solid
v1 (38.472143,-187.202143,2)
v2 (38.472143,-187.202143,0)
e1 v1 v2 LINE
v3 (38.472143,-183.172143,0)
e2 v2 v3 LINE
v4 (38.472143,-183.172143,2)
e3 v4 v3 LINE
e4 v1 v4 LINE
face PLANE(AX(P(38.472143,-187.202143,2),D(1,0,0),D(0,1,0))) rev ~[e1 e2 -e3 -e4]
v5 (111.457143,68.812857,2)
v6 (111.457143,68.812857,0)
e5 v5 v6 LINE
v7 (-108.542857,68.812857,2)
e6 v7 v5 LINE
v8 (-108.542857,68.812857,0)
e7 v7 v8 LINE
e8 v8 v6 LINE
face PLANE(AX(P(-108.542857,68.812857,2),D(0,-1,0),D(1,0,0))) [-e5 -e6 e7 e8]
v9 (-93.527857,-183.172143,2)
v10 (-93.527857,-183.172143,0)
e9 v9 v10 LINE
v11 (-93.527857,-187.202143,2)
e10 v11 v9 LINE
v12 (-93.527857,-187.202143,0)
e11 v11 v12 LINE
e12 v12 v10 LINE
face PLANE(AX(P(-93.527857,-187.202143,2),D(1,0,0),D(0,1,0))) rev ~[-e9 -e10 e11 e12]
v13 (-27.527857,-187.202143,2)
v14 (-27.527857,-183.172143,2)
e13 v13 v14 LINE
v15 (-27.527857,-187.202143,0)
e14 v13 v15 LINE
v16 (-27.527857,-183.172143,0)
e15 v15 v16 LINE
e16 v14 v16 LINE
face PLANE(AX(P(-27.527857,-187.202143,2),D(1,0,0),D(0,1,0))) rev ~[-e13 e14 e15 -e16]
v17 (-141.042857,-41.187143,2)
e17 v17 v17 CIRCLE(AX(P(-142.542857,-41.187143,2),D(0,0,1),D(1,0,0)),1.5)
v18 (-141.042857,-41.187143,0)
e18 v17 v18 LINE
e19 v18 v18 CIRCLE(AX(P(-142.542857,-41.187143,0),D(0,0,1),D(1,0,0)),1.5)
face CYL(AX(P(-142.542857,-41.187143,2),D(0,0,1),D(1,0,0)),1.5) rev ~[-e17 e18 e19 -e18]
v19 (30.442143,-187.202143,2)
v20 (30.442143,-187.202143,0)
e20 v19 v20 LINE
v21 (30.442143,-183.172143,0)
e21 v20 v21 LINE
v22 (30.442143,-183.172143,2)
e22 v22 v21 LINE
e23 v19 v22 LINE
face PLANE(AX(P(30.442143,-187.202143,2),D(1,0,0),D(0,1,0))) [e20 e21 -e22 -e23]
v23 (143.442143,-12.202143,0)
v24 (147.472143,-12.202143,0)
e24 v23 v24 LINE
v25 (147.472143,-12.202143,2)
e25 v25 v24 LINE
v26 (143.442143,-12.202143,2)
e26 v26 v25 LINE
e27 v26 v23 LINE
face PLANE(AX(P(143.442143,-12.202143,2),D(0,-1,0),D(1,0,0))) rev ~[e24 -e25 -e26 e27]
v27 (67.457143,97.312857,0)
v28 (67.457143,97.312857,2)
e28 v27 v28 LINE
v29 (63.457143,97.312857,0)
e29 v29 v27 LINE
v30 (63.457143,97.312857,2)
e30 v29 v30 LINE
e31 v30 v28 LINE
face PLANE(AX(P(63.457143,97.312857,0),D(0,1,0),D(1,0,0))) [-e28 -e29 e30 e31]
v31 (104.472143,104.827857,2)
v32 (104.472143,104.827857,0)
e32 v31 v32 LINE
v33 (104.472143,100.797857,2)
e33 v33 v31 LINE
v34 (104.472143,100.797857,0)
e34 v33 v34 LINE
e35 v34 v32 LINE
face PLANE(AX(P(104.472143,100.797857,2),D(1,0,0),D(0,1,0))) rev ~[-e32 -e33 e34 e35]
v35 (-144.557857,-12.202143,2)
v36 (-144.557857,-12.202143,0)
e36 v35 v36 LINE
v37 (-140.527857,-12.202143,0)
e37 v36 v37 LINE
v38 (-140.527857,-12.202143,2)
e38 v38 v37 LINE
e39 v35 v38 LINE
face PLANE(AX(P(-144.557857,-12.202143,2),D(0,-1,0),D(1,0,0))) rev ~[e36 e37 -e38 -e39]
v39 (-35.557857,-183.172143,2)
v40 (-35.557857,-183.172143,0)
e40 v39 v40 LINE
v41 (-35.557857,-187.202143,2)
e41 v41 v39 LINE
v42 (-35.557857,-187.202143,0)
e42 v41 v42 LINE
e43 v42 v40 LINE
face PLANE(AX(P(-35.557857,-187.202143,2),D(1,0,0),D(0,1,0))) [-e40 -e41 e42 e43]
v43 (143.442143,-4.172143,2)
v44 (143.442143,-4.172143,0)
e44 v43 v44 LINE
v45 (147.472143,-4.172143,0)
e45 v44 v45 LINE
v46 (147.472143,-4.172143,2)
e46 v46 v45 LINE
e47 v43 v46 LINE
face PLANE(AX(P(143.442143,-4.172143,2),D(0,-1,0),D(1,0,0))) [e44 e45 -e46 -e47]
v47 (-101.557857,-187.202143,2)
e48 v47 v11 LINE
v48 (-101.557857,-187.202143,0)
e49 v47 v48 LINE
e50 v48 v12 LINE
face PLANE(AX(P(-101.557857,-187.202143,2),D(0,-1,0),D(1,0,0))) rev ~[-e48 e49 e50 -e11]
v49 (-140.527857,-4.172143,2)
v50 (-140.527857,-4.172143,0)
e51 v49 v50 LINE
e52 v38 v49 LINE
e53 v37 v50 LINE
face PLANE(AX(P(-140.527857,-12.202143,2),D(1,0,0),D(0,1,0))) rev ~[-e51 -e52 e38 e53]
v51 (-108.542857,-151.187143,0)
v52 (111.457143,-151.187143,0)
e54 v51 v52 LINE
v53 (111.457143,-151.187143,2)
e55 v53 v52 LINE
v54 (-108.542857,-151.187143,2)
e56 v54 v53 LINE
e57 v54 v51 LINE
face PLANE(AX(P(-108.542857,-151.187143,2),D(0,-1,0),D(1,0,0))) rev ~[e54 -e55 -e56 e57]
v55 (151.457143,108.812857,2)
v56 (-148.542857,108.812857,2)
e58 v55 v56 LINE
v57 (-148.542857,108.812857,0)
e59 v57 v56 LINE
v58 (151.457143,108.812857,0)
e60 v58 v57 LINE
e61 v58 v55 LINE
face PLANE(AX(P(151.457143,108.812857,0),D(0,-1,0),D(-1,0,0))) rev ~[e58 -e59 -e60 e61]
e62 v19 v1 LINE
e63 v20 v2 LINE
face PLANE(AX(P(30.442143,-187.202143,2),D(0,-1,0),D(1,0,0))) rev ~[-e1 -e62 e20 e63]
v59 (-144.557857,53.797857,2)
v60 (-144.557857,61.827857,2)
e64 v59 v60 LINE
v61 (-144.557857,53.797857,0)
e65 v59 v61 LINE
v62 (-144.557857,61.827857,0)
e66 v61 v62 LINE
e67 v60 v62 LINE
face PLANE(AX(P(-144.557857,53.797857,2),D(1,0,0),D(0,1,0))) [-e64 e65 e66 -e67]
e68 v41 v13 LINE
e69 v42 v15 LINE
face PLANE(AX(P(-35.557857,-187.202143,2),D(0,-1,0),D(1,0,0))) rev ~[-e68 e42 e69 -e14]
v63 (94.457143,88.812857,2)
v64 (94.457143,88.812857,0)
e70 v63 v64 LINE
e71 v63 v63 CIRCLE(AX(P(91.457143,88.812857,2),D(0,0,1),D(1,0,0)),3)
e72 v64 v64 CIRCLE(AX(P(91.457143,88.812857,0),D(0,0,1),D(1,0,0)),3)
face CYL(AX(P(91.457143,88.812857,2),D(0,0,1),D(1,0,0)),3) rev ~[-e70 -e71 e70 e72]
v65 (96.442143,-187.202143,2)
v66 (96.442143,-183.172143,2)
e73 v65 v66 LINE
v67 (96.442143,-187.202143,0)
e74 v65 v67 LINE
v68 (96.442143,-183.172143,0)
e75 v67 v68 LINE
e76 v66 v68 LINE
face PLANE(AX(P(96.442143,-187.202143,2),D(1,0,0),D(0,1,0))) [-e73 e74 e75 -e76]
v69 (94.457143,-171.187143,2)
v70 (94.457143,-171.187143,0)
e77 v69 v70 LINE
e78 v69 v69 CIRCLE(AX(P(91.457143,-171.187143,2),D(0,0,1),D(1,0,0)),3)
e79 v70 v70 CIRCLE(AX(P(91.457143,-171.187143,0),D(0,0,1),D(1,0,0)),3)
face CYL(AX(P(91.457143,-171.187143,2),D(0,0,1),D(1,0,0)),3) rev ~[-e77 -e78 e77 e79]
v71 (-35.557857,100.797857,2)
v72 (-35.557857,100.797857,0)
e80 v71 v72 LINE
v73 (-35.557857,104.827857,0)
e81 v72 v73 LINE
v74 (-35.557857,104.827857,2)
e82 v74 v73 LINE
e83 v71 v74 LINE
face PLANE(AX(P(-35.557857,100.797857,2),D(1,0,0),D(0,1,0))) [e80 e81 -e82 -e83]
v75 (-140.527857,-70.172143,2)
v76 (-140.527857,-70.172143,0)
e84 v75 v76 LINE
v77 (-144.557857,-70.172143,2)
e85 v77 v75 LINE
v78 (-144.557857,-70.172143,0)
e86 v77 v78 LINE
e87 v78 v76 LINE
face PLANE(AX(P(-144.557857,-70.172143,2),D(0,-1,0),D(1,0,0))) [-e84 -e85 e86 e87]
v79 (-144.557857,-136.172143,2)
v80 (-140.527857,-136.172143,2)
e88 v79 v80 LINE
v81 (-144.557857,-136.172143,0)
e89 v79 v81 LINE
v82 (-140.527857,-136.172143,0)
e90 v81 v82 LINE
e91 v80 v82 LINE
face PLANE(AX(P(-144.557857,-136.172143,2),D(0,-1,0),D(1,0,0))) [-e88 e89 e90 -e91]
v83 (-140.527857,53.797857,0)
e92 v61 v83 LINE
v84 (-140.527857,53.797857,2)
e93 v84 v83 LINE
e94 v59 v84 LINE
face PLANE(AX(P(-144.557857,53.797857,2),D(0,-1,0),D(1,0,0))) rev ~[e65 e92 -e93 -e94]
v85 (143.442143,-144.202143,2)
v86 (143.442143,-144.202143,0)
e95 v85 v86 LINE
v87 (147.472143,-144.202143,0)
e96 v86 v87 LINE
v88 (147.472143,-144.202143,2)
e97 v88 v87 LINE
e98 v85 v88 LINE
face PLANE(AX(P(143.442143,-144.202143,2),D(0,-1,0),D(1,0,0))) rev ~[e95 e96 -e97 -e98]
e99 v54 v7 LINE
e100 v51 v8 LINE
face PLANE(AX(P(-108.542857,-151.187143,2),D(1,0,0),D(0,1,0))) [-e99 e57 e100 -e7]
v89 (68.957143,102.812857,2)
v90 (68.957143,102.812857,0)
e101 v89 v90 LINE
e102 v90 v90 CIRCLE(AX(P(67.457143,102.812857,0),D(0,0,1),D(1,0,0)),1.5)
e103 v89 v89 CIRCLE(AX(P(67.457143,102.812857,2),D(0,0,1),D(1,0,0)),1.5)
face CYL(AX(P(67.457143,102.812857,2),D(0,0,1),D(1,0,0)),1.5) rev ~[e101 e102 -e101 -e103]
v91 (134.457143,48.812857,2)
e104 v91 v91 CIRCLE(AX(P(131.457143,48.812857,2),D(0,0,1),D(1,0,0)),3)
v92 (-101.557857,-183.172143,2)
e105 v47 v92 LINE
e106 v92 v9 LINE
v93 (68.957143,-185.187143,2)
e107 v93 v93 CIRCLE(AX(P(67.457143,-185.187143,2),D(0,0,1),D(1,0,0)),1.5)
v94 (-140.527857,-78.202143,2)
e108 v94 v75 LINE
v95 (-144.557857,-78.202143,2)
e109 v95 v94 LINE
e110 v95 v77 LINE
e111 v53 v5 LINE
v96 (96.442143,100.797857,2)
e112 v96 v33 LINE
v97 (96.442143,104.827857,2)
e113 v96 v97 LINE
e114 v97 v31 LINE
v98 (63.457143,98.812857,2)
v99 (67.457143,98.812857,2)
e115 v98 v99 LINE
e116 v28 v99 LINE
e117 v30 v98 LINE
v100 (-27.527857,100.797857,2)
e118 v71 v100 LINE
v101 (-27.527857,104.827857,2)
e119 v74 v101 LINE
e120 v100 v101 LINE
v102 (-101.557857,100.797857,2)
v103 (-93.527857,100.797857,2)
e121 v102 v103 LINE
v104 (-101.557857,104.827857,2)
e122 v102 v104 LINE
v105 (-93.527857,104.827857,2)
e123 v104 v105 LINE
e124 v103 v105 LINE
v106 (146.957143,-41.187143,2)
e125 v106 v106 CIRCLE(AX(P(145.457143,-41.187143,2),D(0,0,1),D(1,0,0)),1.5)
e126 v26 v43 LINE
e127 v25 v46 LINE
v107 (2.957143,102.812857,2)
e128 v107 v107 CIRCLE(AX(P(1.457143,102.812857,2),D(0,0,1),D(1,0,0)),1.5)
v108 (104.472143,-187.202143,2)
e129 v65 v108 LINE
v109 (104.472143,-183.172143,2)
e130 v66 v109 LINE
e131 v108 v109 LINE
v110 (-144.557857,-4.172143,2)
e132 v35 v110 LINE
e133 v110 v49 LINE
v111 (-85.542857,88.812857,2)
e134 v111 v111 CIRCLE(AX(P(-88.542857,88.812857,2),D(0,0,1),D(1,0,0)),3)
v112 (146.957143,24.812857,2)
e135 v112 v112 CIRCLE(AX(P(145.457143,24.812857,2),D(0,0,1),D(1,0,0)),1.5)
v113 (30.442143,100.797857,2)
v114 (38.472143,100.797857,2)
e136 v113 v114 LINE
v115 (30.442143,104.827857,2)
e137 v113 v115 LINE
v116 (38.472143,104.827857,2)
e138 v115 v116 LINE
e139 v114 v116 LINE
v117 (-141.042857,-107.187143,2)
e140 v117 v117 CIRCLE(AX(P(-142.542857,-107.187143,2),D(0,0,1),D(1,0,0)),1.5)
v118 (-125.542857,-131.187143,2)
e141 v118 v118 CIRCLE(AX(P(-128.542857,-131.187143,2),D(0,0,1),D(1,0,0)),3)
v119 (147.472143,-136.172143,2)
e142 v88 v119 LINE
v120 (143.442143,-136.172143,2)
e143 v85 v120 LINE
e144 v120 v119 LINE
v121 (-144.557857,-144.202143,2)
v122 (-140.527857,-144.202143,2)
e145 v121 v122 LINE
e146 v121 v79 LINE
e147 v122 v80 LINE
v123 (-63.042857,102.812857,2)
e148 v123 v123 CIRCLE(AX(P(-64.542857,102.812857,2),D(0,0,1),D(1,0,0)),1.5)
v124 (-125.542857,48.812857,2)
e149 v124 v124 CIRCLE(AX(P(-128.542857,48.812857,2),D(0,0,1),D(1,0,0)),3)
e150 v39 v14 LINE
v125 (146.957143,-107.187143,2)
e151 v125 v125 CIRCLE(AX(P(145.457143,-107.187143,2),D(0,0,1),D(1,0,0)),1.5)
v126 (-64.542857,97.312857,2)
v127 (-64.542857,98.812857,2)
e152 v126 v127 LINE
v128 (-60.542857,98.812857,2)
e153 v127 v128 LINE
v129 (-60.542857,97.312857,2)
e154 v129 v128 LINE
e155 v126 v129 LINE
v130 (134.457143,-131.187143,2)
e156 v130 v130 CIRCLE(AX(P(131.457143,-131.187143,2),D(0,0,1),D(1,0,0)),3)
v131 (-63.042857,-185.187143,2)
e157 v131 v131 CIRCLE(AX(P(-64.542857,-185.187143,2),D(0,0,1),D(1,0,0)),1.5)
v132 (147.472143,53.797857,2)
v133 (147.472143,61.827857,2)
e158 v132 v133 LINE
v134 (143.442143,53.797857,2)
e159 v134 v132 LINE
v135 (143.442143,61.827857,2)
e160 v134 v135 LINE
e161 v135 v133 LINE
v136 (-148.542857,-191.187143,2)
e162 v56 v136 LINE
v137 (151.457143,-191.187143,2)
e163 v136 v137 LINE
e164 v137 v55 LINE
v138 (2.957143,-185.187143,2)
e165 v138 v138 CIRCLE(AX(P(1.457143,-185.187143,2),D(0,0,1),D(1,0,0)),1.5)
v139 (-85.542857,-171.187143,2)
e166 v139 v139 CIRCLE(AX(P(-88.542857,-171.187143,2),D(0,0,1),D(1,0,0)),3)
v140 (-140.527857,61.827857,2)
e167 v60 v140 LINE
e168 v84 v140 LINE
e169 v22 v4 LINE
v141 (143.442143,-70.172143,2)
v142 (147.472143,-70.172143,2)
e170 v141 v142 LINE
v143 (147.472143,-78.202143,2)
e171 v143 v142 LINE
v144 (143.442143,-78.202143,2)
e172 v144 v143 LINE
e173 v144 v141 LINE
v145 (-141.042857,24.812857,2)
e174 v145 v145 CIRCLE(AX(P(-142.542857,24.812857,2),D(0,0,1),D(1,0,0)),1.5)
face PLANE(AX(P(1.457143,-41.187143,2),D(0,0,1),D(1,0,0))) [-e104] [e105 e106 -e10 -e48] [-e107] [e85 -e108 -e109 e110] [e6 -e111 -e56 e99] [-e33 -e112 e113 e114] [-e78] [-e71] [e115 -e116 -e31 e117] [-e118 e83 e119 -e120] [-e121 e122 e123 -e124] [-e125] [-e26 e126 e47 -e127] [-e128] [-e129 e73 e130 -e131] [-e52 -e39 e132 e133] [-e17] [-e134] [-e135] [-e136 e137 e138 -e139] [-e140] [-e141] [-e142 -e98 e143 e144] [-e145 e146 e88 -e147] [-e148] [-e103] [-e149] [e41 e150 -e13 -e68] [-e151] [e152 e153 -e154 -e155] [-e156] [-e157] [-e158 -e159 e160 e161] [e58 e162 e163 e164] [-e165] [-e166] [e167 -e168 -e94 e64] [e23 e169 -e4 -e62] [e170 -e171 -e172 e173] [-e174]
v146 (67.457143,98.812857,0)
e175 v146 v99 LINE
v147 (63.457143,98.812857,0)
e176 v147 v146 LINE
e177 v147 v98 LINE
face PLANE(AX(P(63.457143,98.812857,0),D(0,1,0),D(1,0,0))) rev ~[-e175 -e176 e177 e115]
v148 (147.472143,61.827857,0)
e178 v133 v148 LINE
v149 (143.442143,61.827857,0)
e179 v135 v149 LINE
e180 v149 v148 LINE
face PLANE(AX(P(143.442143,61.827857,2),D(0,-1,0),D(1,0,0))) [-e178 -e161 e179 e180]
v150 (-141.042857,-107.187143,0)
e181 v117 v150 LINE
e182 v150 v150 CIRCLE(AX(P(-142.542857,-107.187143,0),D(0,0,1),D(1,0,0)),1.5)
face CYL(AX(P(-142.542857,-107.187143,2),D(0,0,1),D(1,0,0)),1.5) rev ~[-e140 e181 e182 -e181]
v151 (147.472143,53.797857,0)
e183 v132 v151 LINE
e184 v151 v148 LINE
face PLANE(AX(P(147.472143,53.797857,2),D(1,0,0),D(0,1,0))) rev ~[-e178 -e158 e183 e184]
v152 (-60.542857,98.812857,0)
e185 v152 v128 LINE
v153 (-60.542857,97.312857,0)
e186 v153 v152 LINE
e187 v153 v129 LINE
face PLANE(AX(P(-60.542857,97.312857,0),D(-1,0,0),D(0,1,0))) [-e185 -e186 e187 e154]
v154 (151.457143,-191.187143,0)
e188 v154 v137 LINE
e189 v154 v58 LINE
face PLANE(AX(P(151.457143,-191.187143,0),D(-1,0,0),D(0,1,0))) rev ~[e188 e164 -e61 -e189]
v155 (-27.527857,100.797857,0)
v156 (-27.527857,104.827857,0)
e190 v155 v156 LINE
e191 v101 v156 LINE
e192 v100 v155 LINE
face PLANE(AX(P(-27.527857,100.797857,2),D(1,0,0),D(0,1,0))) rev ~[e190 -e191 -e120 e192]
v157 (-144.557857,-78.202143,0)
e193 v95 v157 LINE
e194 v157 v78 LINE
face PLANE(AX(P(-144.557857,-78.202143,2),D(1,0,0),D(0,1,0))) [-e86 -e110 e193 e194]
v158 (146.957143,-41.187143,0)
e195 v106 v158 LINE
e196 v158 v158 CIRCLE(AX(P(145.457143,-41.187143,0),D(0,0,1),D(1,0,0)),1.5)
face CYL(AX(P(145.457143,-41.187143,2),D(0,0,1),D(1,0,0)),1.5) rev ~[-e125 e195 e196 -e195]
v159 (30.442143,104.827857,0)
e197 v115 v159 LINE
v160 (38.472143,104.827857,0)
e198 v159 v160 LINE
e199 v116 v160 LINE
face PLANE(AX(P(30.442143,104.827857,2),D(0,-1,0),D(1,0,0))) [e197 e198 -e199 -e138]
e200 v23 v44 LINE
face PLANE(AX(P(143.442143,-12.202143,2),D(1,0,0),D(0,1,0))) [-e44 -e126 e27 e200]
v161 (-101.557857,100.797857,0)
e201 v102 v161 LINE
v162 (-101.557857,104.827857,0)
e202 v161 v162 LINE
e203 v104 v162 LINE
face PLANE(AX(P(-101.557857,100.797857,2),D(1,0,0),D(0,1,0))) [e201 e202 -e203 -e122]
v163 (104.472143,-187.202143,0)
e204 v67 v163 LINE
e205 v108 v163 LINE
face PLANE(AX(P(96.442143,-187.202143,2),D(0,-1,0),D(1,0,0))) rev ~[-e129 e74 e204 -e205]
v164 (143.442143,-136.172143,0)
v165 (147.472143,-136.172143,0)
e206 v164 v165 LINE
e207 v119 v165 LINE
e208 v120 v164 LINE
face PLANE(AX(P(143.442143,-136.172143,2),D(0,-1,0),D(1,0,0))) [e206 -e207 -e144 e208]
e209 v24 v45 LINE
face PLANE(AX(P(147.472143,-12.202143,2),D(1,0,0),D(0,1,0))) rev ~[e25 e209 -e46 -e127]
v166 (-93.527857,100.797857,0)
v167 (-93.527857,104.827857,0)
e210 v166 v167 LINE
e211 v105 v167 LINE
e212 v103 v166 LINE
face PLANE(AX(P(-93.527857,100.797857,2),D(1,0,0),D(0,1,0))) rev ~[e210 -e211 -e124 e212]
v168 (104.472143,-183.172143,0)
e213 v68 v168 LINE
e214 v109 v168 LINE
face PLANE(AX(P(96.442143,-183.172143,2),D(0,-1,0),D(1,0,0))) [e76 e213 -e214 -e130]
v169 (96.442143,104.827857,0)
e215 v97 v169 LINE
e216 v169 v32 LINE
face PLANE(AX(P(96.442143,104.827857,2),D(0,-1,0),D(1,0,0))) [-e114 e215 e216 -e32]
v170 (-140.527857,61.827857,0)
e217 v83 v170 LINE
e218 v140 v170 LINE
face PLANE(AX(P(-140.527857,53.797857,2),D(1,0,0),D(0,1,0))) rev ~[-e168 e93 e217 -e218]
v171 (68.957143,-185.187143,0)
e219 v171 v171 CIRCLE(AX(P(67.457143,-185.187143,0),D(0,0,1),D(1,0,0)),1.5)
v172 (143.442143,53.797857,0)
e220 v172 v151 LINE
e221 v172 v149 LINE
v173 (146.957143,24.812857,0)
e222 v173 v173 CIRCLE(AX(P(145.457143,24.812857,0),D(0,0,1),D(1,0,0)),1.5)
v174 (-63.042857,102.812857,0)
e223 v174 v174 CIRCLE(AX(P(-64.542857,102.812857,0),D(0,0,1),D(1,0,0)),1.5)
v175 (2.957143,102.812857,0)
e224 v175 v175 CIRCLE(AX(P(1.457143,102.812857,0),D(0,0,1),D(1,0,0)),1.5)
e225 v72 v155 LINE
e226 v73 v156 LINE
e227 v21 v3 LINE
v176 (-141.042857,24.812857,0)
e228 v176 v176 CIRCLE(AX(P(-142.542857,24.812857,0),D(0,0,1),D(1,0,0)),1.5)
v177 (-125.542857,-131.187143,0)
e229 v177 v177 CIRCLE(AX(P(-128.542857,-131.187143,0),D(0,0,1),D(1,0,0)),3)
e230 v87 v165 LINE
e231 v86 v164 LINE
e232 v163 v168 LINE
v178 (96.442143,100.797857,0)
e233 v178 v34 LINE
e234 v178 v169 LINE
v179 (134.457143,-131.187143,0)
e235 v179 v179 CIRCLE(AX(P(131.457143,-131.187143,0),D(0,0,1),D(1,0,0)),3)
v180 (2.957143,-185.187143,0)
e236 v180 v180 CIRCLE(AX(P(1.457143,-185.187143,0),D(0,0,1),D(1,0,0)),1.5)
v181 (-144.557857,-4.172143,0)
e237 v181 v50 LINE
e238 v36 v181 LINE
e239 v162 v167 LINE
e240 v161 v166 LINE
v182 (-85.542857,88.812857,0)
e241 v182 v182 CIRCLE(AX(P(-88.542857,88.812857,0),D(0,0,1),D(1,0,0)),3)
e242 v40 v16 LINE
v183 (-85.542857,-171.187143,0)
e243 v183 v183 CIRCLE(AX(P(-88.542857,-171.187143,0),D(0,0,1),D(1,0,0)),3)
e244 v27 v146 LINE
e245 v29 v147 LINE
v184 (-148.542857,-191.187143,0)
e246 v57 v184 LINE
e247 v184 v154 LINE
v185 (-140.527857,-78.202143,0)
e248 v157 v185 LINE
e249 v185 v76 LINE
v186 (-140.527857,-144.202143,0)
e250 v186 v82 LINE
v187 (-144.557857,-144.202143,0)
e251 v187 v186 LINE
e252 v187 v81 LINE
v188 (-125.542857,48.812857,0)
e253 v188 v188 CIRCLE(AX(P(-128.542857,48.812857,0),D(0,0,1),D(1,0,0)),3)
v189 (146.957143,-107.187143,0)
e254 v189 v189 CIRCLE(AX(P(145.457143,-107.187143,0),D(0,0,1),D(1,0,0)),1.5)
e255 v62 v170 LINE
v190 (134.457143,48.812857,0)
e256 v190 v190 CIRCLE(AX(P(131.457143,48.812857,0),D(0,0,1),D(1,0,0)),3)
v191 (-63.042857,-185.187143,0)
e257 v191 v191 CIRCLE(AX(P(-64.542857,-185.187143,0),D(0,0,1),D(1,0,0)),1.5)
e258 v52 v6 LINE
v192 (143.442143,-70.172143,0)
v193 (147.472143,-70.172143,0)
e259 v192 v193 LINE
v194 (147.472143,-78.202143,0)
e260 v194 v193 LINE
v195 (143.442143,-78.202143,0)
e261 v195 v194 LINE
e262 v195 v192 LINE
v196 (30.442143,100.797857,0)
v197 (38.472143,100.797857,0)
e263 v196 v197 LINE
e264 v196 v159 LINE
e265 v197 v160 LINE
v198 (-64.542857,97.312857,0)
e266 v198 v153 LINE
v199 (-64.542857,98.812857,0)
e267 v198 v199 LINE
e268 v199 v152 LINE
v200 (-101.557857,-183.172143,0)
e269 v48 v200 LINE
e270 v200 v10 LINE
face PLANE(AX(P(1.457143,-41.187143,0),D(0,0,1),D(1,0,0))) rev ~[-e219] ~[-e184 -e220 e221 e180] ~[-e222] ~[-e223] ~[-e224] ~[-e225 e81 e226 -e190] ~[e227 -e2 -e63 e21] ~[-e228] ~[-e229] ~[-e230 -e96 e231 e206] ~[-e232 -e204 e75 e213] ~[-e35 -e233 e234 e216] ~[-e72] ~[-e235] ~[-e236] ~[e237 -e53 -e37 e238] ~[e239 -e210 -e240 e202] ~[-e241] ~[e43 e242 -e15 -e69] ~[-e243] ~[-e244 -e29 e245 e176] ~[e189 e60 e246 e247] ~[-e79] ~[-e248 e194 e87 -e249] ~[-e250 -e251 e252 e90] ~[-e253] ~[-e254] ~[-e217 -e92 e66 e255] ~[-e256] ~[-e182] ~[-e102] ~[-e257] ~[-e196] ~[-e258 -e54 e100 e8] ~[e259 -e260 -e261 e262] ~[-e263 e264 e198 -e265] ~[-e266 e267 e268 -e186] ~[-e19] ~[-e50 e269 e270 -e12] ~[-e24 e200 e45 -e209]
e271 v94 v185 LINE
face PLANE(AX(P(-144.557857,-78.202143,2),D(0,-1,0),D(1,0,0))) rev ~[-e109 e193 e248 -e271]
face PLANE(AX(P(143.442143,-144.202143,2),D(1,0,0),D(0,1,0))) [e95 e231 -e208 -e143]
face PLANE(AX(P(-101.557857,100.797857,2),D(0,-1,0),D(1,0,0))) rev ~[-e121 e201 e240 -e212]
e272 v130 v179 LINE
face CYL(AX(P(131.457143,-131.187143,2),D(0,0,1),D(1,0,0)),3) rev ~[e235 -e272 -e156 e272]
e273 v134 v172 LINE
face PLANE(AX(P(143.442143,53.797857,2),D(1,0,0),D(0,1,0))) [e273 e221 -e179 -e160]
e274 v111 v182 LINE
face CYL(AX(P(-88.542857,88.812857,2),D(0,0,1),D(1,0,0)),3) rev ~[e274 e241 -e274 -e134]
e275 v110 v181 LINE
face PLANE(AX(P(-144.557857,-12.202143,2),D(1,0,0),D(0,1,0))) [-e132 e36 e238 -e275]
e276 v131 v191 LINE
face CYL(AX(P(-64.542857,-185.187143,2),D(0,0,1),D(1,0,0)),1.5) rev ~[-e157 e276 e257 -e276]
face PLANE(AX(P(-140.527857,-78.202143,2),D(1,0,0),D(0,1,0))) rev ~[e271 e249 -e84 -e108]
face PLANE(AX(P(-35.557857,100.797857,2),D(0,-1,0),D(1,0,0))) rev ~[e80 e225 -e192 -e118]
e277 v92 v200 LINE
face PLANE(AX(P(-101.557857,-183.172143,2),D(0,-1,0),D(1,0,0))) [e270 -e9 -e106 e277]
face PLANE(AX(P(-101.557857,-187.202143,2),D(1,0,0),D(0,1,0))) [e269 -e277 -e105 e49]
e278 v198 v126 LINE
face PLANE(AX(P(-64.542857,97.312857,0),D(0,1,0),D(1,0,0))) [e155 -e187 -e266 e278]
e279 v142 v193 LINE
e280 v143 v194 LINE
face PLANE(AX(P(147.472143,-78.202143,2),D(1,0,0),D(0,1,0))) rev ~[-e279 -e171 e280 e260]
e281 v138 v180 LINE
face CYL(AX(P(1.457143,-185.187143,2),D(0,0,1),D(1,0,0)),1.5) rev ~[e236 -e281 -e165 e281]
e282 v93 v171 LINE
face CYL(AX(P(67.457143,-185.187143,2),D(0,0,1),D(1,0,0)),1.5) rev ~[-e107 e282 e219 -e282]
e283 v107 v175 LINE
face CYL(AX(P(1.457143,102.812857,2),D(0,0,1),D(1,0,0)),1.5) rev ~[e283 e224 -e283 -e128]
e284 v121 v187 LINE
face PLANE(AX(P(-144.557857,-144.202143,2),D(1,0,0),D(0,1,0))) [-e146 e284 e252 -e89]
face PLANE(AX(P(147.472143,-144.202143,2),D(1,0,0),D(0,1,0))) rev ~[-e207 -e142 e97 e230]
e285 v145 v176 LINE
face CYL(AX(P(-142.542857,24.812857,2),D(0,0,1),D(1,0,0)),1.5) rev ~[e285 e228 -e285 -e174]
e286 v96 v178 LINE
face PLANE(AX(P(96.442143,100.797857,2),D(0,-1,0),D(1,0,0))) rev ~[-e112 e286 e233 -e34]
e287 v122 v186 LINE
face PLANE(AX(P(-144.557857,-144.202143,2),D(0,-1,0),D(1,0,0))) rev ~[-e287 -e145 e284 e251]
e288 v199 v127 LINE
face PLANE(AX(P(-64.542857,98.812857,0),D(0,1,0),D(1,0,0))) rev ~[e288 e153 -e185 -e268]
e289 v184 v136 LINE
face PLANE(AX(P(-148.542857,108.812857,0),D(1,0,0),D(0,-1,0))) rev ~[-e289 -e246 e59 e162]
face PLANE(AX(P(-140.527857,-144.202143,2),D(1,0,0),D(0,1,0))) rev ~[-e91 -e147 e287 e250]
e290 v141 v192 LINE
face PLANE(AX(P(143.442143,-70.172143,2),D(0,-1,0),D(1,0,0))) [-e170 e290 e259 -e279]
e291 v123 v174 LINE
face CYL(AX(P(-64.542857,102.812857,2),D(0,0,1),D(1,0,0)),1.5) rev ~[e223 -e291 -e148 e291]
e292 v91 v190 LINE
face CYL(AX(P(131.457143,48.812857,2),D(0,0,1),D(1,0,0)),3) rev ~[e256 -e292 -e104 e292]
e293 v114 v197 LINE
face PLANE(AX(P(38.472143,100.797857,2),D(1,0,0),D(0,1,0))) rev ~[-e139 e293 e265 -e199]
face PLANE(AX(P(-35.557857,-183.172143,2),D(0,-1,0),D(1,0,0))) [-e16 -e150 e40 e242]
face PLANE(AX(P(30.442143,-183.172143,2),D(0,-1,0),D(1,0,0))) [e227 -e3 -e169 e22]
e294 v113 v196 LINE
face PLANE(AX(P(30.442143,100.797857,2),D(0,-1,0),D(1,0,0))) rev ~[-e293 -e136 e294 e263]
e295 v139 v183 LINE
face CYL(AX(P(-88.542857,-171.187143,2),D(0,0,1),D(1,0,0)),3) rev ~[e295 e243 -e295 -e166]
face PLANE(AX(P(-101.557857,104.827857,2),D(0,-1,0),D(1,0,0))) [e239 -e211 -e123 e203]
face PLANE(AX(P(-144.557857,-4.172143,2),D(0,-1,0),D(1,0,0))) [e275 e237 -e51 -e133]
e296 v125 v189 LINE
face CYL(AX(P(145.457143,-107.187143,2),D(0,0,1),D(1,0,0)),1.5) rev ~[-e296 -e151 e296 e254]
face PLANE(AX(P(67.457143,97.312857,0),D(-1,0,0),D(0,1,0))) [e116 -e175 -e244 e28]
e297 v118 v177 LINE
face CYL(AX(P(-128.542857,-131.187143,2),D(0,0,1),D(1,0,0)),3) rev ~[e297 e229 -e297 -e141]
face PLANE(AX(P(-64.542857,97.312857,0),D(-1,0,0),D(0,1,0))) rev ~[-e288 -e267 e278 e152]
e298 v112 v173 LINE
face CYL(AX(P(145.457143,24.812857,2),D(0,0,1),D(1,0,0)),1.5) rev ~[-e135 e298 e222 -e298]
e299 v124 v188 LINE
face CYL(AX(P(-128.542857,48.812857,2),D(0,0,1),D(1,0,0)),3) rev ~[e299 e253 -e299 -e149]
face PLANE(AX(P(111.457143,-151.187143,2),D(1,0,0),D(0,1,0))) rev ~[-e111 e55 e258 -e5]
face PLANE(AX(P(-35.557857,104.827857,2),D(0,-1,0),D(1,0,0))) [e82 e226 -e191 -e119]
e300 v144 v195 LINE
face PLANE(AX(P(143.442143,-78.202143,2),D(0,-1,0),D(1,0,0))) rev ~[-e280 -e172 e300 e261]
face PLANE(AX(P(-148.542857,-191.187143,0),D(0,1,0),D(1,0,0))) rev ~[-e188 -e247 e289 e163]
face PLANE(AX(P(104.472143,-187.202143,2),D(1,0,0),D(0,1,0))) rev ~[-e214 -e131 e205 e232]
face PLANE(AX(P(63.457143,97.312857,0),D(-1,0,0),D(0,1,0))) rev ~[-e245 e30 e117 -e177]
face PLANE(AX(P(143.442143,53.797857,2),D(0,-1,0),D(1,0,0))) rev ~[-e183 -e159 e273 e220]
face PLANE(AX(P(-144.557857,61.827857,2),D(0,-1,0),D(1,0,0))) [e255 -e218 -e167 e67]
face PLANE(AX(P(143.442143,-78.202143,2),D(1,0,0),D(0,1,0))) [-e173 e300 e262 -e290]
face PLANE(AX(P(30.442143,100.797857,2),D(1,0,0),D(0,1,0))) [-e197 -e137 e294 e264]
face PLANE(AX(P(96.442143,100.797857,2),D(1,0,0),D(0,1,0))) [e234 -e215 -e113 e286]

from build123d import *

# Parameters (mm, degrees)
SKETCH_1_W          = 4
SKETCH_1_H          = 1.5
EXTRUDE_1_DEPTH     = 2
SKETCH_3_R          = 1.5
SKETCH_3_R_2        = 1.65
SKETCH_3_W          = 8.03
SKETCH_3_H          = 4.03
SKETCH_3_W_2        = 4.03
SKETCH_3_H_2        = 8.03
CUT_EXTRUDE_2_DEPTH = 4
SKETCH_7_R          = 3
CUT_EXTRUDE_3_DEPTH = 10
SKETCH_8_W          = 220
SKETCH_8_H          = 220
CUT_EXTRUDE_4_DEPTH = 4


with BuildPart() as part:
    # 草图1 → 凸台-拉伸1 (new body)
    with BuildSketch(Plane.XY):
        Polygon((151.457142857, -41.187142857), (151.457142857, 108.812857143), (-148.542857143, 108.812857143), (-148.542857143, -191.187142857), (151.457142857, -191.187142857), align=None)
        with Locations((65.457142857, 98.062857143)):
            Rectangle(SKETCH_1_W, SKETCH_1_H, mode=Mode.SUBTRACT)
        with Locations((-62.542857143, 98.062857143)):
            Rectangle(SKETCH_1_W, SKETCH_1_H, mode=Mode.SUBTRACT)
    extrude(amount=EXTRUDE_1_DEPTH)

    # 草图3 → 切除-拉伸2 (cut)
    with BuildSketch(Plane.XY.offset(2)):
        with Locations((1.457142857, -185.187142857)):
            Circle(SKETCH_3_R)
        with Locations((67.457142857, -185.187142857)):
            Circle(SKETCH_3_R)
        with Locations((-64.542857143, -185.187142857)):
            Circle(SKETCH_3_R)
        with Locations((-142.542857143, 24.812857143)):
            Circle(SKETCH_3_R)
        with Locations((-142.542857143, -41.187142857)):
            Circle(SKETCH_3_R)
        with Locations((-142.542857143, -107.187142857)):
            Circle(SKETCH_3_R)
        with Locations((67.457142857, 102.812857143)):
            Circle(SKETCH_3_R)
        with Locations((1.457142857, 102.812857143)):
            Circle(SKETCH_3_R)
        with Locations((-64.542857143, 102.812857143)):
            Circle(SKETCH_3_R)
        with Locations((145.457142857, -107.187142857)):
            Circle(SKETCH_3_R)
        with Locations((145.457142857, -41.187142857)):
            Circle(SKETCH_3_R)
        with Locations((145.457142857, 24.812857143)):
            Circle(SKETCH_3_R)
        with Locations((1.457142857, -108.687142857)):
            Circle(SKETCH_3_R_2)
        with Locations((-46.272564873, -88.916850587)):
            Circle(SKETCH_3_R_2)
        with Locations((-66.042857143, -41.187142857)):
            Circle(SKETCH_3_R_2)
        with Locations((-46.272564873, 6.542564873)):
            Circle(SKETCH_3_R_2)
        with Locations((1.457142857, 26.312857143)):
            Circle(SKETCH_3_R_2)
        with Locations((49.186850587, 6.542564873)):
            Circle(SKETCH_3_R_2)
        with Locations((68.957142857, -41.187142857)):
            Circle(SKETCH_3_R_2)
        with Locations((49.186850587, -88.916850587)):
            Circle(SKETCH_3_R_2)
        with Locations((1.457142857, -125.187142857)):
            Circle(SKETCH_3_R)
        with Locations((100.457142857, -185.187142857)):
            Rectangle(SKETCH_3_W, SKETCH_3_H)
        with Locations((34.457142857, -185.187142857)):
            Rectangle(SKETCH_3_W, SKETCH_3_H)
        with Locations((-31.542857143, -185.187142857)):
            Rectangle(SKETCH_3_W, SKETCH_3_H)
        with Locations((-97.542857143, -185.187142857)):
            Rectangle(SKETCH_3_W, SKETCH_3_H)
        with Locations((-142.542857143, 57.812857143)):
            Rectangle(SKETCH_3_W_2, SKETCH_3_H_2)
        with Locations((-142.542857143, -8.187142857)):
            Rectangle(SKETCH_3_W_2, SKETCH_3_H_2)
        with Locations((-142.542857143, -74.187142857)):
            Rectangle(SKETCH_3_W_2, SKETCH_3_H_2)
        with Locations((-142.542857143, -140.187142857)):
            Rectangle(SKETCH_3_W_2, SKETCH_3_H_2)
        with Locations((100.457142857, 102.812857143)):
            Rectangle(SKETCH_3_W, SKETCH_3_H)
        with Locations((34.457142857, 102.812857143)):
            Rectangle(SKETCH_3_W, SKETCH_3_H)
        with Locations((-31.542857143, 102.812857143)):
            Rectangle(SKETCH_3_W, SKETCH_3_H)
        with Locations((-97.542857143, 102.812857143)):
            Rectangle(SKETCH_3_W, SKETCH_3_H)
        with Locations((145.457142857, -140.187142857)):
            Rectangle(SKETCH_3_W_2, SKETCH_3_H_2)
        with Locations((145.457142857, -74.187142857)):
            Rectangle(SKETCH_3_W_2, SKETCH_3_H_2)
        with Locations((145.457142857, -8.187142857)):
            Rectangle(SKETCH_3_W_2, SKETCH_3_H_2)
        with Locations((145.457142857, 57.812857143)):
            Rectangle(SKETCH_3_W_2, SKETCH_3_H_2)
    extrude(amount=-CUT_EXTRUDE_2_DEPTH, mode=Mode.SUBTRACT)

    # 草图7 → 切除-拉伸3 (cut)
    with BuildSketch(Plane.XY.offset(2)):
        with Locations((-88.542857143, -171.187142857)):
            Circle(SKETCH_7_R)
        with Locations((91.457142857, -171.187142857)):
            Circle(SKETCH_7_R)
        with Locations((-128.542857143, 48.812857143)):
            Circle(SKETCH_7_R)
        with Locations((-128.542857143, -131.187142857)):
            Circle(SKETCH_7_R)
        with Locations((91.457142857, 88.812857143)):
            Circle(SKETCH_7_R)
        with Locations((-88.542857143, 88.812857143)):
            Circle(SKETCH_7_R)
        with Locations((131.457142857, -131.187142857)):
            Circle(SKETCH_7_R)
        with Locations((131.457142857, 48.812857143)):
            Circle(SKETCH_7_R)
    extrude(amount=-CUT_EXTRUDE_3_DEPTH, mode=Mode.SUBTRACT)

    # 草图8 → 切除-拉伸4 (cut)
    with BuildSketch(Plane.XY.offset(2)):
        with Locations((1.457142857, -41.187142857)):
            Rectangle(SKETCH_8_W, SKETCH_8_H)
    extrude(amount=-CUT_EXTRUDE_4_DEPTH, mode=Mode.SUBTRACT)


solid = part.part
